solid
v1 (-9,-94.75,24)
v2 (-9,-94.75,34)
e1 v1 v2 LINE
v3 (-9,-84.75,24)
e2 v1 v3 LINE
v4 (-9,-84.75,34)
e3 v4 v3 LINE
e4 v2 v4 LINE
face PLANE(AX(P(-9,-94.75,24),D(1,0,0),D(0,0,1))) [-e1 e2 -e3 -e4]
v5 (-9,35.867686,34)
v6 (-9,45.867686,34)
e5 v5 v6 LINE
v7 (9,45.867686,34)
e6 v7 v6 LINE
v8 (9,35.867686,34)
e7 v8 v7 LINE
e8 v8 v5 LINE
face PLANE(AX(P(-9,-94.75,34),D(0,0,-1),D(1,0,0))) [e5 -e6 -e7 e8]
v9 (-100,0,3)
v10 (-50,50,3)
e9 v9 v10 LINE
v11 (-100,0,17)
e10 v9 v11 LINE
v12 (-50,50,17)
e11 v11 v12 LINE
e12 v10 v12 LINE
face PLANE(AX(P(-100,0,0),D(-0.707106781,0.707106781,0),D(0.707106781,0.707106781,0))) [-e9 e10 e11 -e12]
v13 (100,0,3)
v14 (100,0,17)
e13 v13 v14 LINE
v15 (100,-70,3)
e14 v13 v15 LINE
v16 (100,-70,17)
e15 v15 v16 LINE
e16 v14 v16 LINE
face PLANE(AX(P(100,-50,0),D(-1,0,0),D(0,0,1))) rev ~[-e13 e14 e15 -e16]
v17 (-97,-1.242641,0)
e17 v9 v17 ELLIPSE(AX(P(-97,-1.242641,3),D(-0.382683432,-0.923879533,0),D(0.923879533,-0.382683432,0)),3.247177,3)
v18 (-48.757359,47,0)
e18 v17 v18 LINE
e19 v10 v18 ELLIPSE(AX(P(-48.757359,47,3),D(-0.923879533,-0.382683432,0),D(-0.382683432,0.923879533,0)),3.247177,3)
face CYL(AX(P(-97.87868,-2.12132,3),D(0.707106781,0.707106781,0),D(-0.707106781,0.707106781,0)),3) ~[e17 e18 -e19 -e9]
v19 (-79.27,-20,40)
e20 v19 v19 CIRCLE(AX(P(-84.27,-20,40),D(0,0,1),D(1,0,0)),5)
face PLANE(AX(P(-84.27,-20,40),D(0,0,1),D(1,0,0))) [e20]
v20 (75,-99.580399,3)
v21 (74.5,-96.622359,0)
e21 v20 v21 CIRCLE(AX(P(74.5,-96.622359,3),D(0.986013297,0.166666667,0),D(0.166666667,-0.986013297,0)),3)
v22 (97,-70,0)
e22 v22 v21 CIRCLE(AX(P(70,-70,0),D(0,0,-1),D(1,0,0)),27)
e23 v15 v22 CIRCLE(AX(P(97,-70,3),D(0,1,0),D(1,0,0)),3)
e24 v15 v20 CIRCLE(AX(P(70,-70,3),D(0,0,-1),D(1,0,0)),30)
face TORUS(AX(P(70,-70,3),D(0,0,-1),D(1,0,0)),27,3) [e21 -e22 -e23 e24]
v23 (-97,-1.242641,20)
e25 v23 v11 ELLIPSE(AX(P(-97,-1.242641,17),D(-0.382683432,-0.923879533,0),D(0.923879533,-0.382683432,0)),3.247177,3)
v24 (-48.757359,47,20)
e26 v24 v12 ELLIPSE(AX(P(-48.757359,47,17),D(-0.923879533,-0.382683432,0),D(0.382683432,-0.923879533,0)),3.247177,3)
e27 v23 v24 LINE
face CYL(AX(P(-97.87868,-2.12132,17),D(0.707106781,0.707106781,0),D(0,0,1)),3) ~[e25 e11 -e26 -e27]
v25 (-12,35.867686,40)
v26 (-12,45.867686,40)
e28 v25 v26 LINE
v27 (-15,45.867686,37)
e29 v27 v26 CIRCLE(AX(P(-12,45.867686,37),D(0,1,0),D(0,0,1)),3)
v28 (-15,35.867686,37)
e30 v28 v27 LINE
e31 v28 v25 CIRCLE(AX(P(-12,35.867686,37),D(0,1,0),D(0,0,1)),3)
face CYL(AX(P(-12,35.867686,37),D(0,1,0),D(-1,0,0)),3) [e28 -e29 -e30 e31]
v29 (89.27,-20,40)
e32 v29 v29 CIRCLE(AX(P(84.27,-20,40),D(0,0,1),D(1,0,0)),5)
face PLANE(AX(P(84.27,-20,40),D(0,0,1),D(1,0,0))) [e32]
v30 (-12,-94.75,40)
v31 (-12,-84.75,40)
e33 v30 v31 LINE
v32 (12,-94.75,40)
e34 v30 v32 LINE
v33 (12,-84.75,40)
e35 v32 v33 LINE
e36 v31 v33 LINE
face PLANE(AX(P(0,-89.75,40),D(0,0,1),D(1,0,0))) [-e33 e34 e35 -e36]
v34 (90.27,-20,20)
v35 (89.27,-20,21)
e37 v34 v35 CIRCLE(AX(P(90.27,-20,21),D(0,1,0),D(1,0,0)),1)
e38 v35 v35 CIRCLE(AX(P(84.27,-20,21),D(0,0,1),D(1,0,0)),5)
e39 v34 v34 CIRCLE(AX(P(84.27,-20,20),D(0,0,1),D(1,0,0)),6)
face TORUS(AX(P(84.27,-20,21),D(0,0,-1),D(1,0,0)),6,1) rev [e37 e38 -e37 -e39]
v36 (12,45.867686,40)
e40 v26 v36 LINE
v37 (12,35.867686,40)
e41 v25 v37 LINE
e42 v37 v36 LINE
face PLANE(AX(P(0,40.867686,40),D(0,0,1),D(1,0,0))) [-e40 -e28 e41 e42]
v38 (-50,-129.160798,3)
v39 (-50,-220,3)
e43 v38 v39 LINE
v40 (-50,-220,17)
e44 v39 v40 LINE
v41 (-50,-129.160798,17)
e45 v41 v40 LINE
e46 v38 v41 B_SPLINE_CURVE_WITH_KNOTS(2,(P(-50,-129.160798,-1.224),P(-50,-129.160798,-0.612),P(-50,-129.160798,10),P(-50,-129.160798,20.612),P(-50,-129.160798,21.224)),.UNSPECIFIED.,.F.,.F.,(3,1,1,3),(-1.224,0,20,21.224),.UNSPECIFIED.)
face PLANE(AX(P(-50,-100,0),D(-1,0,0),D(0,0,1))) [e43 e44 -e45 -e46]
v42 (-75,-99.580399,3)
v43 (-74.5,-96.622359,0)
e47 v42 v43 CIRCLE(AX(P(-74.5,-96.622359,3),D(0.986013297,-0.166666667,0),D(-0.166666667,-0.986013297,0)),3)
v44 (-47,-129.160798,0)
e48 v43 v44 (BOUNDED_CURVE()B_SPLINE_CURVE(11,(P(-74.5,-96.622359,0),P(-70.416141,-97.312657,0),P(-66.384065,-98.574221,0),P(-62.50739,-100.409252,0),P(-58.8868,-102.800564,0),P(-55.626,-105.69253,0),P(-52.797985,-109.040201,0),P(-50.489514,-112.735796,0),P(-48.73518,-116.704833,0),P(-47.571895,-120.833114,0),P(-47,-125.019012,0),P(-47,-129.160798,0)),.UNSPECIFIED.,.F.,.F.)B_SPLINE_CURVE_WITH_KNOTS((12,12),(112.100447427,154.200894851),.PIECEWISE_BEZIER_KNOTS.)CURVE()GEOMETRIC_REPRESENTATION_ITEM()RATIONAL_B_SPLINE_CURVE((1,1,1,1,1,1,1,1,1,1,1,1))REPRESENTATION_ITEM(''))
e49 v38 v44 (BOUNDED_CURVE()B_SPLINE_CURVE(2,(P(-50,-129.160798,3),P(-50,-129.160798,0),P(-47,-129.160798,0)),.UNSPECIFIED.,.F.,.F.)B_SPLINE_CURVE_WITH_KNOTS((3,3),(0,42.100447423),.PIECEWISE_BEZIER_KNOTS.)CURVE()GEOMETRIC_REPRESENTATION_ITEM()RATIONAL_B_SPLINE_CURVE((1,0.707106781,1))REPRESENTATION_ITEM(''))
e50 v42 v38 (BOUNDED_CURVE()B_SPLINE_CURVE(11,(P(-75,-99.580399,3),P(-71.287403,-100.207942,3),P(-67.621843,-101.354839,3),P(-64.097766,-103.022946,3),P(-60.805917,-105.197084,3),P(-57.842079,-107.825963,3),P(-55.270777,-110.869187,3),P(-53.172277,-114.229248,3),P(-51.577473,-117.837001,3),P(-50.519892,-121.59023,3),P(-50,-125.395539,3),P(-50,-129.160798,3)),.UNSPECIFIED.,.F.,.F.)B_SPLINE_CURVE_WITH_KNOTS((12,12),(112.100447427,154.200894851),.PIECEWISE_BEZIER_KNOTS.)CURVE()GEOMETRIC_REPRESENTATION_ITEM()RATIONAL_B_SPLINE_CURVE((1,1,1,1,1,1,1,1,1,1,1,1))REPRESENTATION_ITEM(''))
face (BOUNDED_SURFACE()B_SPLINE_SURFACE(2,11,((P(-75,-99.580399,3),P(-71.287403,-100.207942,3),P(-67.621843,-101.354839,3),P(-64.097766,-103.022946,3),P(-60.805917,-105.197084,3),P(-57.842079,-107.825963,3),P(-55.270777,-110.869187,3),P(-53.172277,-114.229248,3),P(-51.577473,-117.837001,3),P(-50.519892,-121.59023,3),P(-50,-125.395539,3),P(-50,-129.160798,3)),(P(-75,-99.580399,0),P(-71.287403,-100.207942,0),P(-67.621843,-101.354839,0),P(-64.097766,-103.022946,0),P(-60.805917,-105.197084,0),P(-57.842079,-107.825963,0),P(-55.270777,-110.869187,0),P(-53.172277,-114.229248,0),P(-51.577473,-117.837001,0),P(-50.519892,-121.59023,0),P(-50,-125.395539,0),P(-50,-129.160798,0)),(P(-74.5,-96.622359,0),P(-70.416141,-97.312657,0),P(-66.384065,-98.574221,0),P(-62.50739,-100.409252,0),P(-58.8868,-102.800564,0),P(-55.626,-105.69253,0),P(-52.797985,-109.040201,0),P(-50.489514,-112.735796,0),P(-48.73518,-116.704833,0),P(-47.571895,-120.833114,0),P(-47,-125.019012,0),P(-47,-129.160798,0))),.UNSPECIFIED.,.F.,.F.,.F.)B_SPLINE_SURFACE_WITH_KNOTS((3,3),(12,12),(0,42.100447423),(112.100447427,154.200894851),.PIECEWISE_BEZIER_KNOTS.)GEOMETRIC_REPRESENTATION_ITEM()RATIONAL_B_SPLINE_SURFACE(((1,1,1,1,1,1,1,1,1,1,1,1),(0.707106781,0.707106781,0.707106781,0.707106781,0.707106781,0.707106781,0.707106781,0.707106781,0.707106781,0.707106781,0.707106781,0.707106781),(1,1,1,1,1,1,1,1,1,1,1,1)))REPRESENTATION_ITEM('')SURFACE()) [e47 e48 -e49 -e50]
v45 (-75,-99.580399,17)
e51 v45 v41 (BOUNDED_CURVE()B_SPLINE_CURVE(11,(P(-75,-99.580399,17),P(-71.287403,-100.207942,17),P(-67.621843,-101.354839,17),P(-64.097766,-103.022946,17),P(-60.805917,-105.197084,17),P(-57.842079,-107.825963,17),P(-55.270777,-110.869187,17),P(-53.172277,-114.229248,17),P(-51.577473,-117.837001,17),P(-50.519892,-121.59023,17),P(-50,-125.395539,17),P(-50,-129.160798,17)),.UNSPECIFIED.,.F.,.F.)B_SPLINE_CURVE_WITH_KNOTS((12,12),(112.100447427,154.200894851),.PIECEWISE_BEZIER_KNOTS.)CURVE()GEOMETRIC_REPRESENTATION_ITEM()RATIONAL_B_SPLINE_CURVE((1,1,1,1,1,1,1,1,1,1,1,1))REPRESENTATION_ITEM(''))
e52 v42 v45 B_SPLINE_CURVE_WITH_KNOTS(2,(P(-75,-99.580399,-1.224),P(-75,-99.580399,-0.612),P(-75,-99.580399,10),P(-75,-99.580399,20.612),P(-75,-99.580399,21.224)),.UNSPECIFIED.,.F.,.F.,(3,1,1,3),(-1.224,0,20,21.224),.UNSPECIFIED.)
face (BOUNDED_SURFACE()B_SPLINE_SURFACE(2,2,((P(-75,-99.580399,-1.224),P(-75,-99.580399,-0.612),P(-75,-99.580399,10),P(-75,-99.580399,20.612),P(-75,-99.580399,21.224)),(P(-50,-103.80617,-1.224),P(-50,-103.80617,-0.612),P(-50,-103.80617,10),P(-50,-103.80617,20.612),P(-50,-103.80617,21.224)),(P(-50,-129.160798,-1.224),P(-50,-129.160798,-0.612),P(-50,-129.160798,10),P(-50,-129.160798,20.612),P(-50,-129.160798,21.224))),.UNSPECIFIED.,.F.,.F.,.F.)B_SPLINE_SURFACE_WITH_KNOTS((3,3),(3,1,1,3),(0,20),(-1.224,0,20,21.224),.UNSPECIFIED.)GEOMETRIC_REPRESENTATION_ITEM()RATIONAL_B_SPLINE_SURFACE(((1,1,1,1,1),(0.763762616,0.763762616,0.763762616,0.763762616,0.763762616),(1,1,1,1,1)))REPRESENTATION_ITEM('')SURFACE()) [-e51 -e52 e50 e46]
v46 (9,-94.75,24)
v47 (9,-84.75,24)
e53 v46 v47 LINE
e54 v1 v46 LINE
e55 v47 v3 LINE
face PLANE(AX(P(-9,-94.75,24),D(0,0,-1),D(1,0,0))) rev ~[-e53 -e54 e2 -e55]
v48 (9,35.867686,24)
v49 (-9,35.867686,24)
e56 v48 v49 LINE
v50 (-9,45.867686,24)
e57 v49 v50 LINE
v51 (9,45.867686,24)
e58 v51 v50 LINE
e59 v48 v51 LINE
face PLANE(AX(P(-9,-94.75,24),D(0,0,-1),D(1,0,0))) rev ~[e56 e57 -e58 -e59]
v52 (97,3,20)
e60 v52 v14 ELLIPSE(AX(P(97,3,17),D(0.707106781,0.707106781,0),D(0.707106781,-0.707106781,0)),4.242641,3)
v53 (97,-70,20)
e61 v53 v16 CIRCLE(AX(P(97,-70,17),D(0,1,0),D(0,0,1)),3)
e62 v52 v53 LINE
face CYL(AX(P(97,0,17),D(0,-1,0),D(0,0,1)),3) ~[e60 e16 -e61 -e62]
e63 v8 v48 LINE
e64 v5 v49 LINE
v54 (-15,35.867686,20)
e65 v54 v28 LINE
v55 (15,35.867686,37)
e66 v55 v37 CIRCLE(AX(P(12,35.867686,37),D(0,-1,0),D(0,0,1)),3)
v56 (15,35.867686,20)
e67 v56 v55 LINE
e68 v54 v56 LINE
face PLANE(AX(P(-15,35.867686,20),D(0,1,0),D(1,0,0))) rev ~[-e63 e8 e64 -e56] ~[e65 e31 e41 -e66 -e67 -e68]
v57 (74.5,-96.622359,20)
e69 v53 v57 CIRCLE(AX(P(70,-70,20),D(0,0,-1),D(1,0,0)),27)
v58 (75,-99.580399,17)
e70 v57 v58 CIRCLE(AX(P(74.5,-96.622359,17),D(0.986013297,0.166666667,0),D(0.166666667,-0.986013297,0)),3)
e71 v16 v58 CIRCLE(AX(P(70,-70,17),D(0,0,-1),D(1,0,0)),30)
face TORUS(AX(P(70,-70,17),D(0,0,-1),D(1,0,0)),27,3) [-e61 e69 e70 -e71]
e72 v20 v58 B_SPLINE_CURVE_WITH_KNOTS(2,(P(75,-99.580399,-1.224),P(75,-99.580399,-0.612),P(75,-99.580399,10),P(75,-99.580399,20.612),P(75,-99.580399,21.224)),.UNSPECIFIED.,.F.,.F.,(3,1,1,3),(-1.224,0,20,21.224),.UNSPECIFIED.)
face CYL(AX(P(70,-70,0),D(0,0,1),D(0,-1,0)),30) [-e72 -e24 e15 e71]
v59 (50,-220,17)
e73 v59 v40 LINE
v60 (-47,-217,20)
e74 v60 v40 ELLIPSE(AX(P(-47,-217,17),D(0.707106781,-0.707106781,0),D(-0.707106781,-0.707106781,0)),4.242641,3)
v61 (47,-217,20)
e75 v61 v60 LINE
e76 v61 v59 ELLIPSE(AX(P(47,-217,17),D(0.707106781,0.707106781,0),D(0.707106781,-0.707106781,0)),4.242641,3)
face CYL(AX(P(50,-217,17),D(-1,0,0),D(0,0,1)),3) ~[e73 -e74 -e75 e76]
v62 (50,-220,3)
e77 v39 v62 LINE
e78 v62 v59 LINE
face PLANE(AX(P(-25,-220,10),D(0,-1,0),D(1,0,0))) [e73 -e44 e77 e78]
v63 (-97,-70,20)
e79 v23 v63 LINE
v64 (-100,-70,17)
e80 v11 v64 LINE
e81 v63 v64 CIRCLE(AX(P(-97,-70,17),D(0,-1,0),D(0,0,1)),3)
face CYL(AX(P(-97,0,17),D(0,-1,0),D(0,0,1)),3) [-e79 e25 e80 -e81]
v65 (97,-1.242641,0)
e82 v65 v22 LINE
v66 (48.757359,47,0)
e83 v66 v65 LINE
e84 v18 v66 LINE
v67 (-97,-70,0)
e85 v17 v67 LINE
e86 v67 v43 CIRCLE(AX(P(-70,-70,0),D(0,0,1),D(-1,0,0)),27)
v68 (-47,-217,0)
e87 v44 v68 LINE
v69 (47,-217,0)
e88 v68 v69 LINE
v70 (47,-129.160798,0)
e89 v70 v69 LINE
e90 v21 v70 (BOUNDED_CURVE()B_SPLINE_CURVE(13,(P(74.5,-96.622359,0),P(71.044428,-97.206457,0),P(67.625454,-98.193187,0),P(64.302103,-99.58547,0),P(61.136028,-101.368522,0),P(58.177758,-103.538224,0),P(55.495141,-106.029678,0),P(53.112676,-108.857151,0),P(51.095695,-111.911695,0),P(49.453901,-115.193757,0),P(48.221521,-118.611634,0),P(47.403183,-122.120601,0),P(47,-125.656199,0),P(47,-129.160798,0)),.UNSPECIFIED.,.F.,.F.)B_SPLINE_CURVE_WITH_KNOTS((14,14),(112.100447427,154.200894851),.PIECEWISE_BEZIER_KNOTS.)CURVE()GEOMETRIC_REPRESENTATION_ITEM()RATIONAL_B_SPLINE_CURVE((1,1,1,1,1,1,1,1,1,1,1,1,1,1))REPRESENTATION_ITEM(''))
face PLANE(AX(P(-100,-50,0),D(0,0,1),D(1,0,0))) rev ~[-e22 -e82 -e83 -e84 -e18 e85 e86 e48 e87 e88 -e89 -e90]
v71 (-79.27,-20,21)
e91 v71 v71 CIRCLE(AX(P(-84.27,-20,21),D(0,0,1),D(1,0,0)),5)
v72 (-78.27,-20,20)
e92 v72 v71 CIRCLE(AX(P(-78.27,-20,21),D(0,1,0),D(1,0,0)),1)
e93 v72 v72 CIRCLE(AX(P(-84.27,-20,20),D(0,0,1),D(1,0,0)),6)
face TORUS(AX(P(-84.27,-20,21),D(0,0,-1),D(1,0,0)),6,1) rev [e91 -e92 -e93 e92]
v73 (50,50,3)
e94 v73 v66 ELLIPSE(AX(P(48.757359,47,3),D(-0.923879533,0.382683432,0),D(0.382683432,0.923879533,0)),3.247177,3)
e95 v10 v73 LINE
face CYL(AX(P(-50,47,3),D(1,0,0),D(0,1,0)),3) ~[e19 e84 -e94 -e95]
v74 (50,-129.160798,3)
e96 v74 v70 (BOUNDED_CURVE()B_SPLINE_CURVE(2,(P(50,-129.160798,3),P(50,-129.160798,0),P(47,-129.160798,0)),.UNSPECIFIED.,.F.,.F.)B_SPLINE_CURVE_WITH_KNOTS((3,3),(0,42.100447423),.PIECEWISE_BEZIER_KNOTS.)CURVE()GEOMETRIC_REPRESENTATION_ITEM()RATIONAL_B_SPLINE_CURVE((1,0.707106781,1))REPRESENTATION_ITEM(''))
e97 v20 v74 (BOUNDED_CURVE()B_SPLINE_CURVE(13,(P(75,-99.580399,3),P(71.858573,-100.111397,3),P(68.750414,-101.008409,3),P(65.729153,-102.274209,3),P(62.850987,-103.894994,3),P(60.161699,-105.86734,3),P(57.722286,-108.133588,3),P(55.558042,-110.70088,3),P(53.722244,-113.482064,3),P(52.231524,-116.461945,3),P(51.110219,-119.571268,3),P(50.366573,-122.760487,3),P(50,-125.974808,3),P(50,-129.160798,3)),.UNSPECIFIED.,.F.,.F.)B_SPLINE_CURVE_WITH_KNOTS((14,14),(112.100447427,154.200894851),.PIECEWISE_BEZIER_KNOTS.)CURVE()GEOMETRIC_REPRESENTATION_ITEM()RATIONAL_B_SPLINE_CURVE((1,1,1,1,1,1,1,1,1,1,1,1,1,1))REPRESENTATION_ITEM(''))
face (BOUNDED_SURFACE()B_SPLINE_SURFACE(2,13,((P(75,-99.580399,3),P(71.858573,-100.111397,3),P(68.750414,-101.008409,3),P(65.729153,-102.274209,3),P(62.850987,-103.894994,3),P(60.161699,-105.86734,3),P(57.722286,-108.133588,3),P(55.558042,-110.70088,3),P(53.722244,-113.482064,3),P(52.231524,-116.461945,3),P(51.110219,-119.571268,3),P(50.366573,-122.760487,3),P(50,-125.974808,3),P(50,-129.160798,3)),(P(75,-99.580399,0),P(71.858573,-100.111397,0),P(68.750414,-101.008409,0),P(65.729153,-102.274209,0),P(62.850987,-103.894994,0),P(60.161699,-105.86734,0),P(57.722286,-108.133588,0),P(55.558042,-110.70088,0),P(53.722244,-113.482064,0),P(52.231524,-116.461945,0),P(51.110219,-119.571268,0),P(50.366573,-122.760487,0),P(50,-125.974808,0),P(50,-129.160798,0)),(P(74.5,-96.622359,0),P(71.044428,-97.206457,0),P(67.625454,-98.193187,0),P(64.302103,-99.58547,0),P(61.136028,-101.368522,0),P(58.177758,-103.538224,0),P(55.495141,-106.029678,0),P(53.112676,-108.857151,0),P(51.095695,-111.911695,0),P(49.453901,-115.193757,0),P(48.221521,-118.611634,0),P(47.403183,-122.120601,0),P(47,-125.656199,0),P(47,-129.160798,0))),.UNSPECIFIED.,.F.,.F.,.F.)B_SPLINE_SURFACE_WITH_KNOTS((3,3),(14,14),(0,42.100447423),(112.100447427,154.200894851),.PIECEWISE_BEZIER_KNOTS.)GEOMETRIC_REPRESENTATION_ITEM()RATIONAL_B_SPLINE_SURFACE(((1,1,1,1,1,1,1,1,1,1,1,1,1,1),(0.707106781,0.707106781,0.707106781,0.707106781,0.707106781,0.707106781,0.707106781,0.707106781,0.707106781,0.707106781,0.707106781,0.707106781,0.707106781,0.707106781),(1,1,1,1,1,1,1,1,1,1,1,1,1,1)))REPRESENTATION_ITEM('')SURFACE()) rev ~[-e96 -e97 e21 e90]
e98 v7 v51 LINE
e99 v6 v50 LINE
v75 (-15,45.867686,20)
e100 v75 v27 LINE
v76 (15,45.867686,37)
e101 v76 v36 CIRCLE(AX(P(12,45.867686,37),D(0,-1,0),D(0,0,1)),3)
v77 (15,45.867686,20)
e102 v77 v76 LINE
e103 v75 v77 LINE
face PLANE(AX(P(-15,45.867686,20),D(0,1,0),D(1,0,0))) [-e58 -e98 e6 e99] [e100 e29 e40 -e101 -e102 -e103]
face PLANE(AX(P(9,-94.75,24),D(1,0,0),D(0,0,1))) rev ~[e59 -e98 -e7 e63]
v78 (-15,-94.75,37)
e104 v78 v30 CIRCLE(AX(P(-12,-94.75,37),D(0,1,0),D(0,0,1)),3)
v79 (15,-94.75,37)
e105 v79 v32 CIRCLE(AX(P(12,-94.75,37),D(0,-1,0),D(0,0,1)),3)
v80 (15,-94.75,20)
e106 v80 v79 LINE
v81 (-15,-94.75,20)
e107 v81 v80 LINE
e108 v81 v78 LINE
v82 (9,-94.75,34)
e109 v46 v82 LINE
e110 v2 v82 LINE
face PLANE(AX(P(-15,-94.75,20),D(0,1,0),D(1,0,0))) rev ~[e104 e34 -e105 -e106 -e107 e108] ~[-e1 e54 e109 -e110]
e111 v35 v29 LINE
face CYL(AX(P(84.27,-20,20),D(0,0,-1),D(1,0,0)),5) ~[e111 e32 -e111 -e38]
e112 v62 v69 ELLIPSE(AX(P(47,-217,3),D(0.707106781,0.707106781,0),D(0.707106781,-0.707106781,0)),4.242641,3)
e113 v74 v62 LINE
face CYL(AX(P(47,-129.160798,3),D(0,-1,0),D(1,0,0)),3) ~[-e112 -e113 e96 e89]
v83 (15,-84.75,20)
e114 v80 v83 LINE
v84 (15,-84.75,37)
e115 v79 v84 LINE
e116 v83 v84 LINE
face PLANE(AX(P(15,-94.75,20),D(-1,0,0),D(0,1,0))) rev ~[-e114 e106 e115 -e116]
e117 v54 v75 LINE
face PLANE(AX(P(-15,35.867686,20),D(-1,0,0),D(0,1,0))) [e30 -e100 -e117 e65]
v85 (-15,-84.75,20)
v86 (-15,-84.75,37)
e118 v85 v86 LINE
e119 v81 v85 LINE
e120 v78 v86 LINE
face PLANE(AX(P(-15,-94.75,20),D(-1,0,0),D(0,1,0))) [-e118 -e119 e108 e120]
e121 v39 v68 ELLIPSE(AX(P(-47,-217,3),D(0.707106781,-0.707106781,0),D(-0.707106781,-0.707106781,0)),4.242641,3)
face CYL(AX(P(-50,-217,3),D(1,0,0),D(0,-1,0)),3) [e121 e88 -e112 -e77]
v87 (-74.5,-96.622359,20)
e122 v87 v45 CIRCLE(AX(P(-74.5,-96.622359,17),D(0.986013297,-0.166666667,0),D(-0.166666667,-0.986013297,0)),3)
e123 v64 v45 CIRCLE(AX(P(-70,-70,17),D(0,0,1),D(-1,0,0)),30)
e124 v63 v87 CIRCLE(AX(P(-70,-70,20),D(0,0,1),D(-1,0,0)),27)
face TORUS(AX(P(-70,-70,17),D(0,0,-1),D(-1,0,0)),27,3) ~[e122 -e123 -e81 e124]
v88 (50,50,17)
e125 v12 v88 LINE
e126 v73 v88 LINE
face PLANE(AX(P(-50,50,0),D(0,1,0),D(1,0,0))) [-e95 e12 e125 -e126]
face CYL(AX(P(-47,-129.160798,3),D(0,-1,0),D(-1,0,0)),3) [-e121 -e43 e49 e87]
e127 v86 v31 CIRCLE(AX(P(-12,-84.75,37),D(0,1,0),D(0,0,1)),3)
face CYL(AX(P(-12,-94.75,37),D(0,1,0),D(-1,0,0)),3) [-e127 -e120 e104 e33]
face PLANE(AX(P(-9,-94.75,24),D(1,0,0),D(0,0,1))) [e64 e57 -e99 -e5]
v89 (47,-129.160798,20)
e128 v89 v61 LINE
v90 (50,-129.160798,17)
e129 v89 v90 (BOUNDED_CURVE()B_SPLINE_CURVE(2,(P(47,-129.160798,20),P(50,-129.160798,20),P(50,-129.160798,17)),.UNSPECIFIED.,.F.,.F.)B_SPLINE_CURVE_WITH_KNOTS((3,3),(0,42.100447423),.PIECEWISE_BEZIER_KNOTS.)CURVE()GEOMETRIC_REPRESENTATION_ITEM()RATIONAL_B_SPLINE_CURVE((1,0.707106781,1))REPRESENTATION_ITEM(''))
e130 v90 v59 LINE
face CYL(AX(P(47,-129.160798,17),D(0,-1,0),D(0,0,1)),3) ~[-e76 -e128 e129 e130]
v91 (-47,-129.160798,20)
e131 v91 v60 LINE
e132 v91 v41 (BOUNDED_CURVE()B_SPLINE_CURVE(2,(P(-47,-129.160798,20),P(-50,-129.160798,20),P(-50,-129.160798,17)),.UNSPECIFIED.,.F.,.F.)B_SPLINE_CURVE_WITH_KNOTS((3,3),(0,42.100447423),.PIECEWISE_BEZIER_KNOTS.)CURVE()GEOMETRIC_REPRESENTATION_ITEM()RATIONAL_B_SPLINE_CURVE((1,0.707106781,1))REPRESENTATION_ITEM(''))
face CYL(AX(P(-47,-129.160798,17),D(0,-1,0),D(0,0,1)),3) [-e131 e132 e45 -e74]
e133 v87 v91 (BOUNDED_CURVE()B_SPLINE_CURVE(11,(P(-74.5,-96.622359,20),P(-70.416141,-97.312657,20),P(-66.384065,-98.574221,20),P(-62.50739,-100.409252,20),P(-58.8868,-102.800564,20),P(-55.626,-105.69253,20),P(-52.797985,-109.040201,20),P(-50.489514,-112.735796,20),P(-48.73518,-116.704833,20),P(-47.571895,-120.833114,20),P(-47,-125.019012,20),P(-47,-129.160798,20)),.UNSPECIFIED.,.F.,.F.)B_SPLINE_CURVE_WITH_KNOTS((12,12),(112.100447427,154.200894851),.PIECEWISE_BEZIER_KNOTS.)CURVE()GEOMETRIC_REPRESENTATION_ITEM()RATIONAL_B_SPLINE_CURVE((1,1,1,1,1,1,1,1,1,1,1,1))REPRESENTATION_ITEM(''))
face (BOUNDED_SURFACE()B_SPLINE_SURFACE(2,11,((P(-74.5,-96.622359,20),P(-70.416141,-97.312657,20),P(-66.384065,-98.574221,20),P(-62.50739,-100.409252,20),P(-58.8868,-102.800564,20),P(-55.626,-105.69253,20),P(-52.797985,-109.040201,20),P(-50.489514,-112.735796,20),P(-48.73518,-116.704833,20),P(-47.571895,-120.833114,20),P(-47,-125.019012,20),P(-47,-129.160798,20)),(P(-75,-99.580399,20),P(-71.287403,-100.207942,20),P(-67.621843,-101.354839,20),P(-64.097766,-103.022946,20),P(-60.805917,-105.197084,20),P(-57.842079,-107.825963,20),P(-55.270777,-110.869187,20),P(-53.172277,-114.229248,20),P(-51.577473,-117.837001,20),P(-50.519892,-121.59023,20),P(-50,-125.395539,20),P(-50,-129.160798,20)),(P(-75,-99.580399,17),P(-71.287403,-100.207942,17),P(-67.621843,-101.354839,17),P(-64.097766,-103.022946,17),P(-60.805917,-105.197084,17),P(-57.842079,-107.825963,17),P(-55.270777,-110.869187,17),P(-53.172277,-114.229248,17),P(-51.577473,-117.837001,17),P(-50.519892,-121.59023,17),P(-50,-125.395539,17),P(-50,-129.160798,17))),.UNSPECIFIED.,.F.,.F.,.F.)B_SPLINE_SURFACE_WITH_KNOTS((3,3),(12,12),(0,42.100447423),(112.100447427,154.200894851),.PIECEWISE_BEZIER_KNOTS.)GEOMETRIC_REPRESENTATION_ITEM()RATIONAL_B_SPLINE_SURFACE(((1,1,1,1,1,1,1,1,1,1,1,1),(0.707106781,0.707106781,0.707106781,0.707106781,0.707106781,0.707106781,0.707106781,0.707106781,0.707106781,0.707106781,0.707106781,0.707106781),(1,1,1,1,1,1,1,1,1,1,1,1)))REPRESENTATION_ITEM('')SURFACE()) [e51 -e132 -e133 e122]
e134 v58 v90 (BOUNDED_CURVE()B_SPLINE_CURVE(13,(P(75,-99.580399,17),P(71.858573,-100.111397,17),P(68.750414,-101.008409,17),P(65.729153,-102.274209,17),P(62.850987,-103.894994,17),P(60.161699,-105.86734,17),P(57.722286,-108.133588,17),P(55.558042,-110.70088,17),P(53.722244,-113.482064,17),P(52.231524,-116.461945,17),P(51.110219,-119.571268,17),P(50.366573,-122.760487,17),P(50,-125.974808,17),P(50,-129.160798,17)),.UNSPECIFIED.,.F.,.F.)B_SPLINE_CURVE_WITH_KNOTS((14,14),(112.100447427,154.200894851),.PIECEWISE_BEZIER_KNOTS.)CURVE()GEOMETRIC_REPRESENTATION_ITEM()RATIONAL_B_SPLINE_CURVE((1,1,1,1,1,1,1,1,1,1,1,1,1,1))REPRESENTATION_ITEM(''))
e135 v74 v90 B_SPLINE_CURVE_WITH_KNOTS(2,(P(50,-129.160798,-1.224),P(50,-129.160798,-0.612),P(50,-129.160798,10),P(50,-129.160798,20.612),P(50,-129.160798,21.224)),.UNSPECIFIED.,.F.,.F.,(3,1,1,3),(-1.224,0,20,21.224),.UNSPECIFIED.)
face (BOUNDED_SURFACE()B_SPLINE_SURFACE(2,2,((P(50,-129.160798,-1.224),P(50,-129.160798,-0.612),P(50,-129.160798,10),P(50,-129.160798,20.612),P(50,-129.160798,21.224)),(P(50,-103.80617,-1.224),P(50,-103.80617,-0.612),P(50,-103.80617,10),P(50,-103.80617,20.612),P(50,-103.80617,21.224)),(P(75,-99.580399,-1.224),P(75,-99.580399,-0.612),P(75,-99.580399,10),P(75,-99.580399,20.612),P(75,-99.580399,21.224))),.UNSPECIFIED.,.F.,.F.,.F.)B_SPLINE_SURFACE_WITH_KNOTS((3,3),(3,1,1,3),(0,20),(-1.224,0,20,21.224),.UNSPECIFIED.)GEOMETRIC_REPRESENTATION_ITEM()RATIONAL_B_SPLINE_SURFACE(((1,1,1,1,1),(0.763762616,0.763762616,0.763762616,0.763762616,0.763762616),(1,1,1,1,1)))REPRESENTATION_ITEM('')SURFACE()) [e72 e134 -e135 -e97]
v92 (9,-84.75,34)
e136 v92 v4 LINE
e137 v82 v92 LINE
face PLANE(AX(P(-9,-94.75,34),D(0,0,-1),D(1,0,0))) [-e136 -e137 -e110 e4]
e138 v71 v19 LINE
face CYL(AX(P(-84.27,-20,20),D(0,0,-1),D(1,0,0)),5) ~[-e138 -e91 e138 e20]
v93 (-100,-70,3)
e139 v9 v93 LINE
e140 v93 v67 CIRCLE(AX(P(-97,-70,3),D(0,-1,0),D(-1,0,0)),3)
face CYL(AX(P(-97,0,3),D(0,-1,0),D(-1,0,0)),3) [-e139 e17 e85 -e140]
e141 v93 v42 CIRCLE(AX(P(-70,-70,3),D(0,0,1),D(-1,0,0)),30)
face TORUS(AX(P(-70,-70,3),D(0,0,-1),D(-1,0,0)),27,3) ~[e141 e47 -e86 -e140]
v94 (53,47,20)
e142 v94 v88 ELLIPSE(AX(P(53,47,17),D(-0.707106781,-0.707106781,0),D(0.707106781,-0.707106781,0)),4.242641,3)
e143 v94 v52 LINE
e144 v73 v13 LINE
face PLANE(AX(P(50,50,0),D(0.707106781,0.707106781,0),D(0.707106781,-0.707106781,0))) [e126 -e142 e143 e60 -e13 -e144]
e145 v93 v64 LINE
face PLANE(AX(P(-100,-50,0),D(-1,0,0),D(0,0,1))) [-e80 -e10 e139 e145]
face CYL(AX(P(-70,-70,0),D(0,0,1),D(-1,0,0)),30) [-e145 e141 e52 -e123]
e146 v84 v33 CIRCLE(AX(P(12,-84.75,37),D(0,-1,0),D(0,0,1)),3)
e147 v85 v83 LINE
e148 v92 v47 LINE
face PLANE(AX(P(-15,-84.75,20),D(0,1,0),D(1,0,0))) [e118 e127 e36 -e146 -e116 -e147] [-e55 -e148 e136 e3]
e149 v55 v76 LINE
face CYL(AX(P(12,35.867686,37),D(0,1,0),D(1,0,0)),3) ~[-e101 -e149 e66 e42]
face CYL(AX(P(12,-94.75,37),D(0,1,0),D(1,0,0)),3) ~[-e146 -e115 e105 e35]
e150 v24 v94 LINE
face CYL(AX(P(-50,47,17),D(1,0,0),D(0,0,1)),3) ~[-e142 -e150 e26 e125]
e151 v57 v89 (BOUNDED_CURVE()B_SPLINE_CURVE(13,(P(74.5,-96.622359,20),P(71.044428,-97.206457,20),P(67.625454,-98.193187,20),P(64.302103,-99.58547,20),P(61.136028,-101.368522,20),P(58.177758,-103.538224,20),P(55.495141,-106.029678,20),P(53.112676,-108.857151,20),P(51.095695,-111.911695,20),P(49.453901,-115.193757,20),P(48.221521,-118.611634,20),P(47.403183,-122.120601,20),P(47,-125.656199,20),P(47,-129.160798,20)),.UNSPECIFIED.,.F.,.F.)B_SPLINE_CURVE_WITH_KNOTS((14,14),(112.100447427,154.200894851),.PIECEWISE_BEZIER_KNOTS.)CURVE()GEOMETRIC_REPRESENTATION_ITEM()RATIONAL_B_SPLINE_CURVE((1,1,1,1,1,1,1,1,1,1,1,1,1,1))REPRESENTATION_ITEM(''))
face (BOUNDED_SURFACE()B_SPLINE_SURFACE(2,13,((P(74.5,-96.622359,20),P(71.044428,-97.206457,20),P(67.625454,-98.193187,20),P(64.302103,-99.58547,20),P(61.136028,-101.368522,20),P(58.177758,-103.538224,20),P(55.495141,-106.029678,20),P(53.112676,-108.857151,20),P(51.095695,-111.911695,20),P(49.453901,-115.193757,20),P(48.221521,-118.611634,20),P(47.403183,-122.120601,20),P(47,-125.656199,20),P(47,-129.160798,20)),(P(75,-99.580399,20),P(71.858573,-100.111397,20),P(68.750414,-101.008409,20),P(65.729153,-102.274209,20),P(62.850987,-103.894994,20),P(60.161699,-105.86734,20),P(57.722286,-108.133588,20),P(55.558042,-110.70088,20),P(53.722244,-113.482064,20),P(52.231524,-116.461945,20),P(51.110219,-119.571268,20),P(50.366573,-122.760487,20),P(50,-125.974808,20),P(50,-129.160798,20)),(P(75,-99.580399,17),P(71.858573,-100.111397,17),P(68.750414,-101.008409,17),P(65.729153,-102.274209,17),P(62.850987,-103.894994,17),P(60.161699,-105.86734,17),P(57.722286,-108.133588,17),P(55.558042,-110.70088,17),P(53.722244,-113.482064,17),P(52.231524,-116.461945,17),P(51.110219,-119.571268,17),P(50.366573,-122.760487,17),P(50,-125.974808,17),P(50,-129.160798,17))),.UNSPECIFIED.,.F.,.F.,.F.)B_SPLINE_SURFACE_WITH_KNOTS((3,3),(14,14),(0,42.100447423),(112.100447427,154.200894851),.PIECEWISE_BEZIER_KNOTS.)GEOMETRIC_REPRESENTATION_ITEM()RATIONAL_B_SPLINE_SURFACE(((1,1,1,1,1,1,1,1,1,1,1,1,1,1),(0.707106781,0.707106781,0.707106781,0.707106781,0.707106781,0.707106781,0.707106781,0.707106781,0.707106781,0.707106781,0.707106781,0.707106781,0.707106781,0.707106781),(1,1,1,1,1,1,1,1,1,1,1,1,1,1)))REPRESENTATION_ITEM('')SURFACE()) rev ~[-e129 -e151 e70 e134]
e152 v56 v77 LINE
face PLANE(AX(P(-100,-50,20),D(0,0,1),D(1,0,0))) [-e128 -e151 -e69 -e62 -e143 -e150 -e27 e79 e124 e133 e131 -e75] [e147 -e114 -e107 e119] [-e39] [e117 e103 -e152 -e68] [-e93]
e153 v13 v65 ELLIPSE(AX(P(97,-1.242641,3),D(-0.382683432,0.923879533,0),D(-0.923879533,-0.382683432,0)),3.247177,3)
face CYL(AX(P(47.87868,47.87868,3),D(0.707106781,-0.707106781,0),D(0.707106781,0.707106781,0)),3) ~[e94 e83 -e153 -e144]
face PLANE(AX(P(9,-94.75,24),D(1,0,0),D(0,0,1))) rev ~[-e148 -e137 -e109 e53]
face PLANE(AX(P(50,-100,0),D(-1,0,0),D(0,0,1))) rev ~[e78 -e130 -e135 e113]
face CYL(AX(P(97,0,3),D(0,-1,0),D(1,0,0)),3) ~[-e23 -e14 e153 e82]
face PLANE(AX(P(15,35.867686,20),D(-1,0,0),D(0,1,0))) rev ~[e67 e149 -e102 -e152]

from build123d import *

# Parameters (mm, degrees)
BOSS_EXTRUDE1_DEPTH = 20
SKETCH2_R           = 5
BOSS_EXTRUDE2_DEPTH = 20
SKETCH3_W           = 200
SKETCH3_H           = 20
BOSS_EXTRUDE3_DEPTH = 50
SKETCH4_W           = 30
SKETCH4_H           = 10
BOSS_EXTRUDE4_DEPTH = 20
SKETCH5_W           = 18
SKETCH5_H           = 10
CUT_EXTRUDE1_DEPTH  = 145.75
SKETCH6_W           = 50
SKETCH6_H           = 20
BOSS_EXTRUDE5_DEPTH = 120
FILLET1_R           = 30
FILLET2_R           = 30
FILLET3_R           = 3
FILLET4_R           = 1


with BuildPart() as part:
    # Sketch1 → Boss-Extrude1 (new body)
    with BuildSketch(Plane.XY):
        Polygon((-100, 0), (-50, 50), (50, 50), (100, 0), (100, -50), (-100, -50), align=None)
    extrude(amount=BOSS_EXTRUDE1_DEPTH)

    # Sketch2 → Boss-Extrude2 (add)
    with BuildSketch(Plane.XY.offset(20)):
        with Locations((-84.27, -20)):
            Circle(SKETCH2_R)
        with Locations((84.27, -20)):
            Circle(SKETCH2_R)
    extrude(amount=BOSS_EXTRUDE2_DEPTH)

    # Sketch3 → Boss-Extrude3 (add)
    with BuildSketch(Plane.XZ.offset(50)):
        with Locations((0, 10)):
            Rectangle(SKETCH3_W, SKETCH3_H)
    extrude(amount=BOSS_EXTRUDE3_DEPTH)

    # Sketch4 → Boss-Extrude4 (add)
    with BuildSketch(Plane.XY.offset(20)):
        with Locations((0, -89.75)):
            Rectangle(SKETCH4_W, SKETCH4_H)
        with Locations((0, 40.86768586)):
            Rectangle(SKETCH4_W, SKETCH4_H)
    extrude(amount=BOSS_EXTRUDE4_DEPTH)

    # Sketch5 → Cut-Extrude1 (cut, through all)
    with BuildSketch(Plane.XZ.offset(94.75)):
        with Locations((0, 29)):
            Rectangle(SKETCH5_W, SKETCH5_H)
    extrude(amount=-CUT_EXTRUDE1_DEPTH, mode=Mode.SUBTRACT)

    # Sketch6 → Boss-Extrude5 (add)
    with BuildSketch(Plane.XZ.offset(100)):
        with Locations((-25, 10)):
            Rectangle(SKETCH6_W, SKETCH6_H)
        with Locations((25, 10)):
            Rectangle(SKETCH6_W, SKETCH6_H)
    extrude(amount=BOSS_EXTRUDE5_DEPTH)

    # Fillet1
    fillet1_edges = [part.edges().sort_by_distance(p)[0] for p in [
        (-100, -100, 10),
        (100, -100, 10),
    ]]
    fillet(fillet1_edges, radius=FILLET1_R)

    # Fillet2
    fillet2_edges = [part.edges().sort_by_distance(p)[0] for p in [
        (-50, -100, 10),
        (50, -100, 10),
    ]]
    fillet(fillet2_edges, radius=FILLET2_R)

    # Fillet3
    fillet3_edges = [part.edges().sort_by_distance(p)[0] for p in [
        (-50, -174.580398915, 20),
        (-50, -174.580398915, 0),
        (50, -174.580398915, 0),
        (50, -174.580398915, 20),
        (0, -220, 0),
        (0, -220, 20),
        (100, -35, 0),
        (92.912878475, -89.364916731, 0),
        (100, -35, 20),
        (-92.912878475, -89.364916731, 20),
        (0, 50, 20),
        (-92.912878475, -89.364916731, 0),
        (92.912878475, -89.364916731, 20),
        (-57.087121525, -109.7958811, 20),
        (-57.087121525, -109.7958811, 0),
        (57.087121525, -109.7958811, 0),
        (57.087121525, -109.7958811, 20),
        (-75, 25, 20),
        (-100, -35, 20),
        (15, -89.75, 40),
        (-15, -89.75, 40),
        (-15, 40.86768586, 40),
        (15, 40.86768586, 40),
        (-100, -35, 0),
        (-75, 25, 0),
        (0, 50, 0),
        (75, 25, 0),
    ]]
    fillet(fillet3_edges, radius=FILLET3_R)

    # Fillet4
    fillet4_edges = [part.edges().sort_by_distance(p)[0] for p in [
        (-89.27, -20, 20),
        (79.27, -20, 20),
    ]]
    fillet(fillet4_edges, radius=FILLET4_R)


solid = part.part
